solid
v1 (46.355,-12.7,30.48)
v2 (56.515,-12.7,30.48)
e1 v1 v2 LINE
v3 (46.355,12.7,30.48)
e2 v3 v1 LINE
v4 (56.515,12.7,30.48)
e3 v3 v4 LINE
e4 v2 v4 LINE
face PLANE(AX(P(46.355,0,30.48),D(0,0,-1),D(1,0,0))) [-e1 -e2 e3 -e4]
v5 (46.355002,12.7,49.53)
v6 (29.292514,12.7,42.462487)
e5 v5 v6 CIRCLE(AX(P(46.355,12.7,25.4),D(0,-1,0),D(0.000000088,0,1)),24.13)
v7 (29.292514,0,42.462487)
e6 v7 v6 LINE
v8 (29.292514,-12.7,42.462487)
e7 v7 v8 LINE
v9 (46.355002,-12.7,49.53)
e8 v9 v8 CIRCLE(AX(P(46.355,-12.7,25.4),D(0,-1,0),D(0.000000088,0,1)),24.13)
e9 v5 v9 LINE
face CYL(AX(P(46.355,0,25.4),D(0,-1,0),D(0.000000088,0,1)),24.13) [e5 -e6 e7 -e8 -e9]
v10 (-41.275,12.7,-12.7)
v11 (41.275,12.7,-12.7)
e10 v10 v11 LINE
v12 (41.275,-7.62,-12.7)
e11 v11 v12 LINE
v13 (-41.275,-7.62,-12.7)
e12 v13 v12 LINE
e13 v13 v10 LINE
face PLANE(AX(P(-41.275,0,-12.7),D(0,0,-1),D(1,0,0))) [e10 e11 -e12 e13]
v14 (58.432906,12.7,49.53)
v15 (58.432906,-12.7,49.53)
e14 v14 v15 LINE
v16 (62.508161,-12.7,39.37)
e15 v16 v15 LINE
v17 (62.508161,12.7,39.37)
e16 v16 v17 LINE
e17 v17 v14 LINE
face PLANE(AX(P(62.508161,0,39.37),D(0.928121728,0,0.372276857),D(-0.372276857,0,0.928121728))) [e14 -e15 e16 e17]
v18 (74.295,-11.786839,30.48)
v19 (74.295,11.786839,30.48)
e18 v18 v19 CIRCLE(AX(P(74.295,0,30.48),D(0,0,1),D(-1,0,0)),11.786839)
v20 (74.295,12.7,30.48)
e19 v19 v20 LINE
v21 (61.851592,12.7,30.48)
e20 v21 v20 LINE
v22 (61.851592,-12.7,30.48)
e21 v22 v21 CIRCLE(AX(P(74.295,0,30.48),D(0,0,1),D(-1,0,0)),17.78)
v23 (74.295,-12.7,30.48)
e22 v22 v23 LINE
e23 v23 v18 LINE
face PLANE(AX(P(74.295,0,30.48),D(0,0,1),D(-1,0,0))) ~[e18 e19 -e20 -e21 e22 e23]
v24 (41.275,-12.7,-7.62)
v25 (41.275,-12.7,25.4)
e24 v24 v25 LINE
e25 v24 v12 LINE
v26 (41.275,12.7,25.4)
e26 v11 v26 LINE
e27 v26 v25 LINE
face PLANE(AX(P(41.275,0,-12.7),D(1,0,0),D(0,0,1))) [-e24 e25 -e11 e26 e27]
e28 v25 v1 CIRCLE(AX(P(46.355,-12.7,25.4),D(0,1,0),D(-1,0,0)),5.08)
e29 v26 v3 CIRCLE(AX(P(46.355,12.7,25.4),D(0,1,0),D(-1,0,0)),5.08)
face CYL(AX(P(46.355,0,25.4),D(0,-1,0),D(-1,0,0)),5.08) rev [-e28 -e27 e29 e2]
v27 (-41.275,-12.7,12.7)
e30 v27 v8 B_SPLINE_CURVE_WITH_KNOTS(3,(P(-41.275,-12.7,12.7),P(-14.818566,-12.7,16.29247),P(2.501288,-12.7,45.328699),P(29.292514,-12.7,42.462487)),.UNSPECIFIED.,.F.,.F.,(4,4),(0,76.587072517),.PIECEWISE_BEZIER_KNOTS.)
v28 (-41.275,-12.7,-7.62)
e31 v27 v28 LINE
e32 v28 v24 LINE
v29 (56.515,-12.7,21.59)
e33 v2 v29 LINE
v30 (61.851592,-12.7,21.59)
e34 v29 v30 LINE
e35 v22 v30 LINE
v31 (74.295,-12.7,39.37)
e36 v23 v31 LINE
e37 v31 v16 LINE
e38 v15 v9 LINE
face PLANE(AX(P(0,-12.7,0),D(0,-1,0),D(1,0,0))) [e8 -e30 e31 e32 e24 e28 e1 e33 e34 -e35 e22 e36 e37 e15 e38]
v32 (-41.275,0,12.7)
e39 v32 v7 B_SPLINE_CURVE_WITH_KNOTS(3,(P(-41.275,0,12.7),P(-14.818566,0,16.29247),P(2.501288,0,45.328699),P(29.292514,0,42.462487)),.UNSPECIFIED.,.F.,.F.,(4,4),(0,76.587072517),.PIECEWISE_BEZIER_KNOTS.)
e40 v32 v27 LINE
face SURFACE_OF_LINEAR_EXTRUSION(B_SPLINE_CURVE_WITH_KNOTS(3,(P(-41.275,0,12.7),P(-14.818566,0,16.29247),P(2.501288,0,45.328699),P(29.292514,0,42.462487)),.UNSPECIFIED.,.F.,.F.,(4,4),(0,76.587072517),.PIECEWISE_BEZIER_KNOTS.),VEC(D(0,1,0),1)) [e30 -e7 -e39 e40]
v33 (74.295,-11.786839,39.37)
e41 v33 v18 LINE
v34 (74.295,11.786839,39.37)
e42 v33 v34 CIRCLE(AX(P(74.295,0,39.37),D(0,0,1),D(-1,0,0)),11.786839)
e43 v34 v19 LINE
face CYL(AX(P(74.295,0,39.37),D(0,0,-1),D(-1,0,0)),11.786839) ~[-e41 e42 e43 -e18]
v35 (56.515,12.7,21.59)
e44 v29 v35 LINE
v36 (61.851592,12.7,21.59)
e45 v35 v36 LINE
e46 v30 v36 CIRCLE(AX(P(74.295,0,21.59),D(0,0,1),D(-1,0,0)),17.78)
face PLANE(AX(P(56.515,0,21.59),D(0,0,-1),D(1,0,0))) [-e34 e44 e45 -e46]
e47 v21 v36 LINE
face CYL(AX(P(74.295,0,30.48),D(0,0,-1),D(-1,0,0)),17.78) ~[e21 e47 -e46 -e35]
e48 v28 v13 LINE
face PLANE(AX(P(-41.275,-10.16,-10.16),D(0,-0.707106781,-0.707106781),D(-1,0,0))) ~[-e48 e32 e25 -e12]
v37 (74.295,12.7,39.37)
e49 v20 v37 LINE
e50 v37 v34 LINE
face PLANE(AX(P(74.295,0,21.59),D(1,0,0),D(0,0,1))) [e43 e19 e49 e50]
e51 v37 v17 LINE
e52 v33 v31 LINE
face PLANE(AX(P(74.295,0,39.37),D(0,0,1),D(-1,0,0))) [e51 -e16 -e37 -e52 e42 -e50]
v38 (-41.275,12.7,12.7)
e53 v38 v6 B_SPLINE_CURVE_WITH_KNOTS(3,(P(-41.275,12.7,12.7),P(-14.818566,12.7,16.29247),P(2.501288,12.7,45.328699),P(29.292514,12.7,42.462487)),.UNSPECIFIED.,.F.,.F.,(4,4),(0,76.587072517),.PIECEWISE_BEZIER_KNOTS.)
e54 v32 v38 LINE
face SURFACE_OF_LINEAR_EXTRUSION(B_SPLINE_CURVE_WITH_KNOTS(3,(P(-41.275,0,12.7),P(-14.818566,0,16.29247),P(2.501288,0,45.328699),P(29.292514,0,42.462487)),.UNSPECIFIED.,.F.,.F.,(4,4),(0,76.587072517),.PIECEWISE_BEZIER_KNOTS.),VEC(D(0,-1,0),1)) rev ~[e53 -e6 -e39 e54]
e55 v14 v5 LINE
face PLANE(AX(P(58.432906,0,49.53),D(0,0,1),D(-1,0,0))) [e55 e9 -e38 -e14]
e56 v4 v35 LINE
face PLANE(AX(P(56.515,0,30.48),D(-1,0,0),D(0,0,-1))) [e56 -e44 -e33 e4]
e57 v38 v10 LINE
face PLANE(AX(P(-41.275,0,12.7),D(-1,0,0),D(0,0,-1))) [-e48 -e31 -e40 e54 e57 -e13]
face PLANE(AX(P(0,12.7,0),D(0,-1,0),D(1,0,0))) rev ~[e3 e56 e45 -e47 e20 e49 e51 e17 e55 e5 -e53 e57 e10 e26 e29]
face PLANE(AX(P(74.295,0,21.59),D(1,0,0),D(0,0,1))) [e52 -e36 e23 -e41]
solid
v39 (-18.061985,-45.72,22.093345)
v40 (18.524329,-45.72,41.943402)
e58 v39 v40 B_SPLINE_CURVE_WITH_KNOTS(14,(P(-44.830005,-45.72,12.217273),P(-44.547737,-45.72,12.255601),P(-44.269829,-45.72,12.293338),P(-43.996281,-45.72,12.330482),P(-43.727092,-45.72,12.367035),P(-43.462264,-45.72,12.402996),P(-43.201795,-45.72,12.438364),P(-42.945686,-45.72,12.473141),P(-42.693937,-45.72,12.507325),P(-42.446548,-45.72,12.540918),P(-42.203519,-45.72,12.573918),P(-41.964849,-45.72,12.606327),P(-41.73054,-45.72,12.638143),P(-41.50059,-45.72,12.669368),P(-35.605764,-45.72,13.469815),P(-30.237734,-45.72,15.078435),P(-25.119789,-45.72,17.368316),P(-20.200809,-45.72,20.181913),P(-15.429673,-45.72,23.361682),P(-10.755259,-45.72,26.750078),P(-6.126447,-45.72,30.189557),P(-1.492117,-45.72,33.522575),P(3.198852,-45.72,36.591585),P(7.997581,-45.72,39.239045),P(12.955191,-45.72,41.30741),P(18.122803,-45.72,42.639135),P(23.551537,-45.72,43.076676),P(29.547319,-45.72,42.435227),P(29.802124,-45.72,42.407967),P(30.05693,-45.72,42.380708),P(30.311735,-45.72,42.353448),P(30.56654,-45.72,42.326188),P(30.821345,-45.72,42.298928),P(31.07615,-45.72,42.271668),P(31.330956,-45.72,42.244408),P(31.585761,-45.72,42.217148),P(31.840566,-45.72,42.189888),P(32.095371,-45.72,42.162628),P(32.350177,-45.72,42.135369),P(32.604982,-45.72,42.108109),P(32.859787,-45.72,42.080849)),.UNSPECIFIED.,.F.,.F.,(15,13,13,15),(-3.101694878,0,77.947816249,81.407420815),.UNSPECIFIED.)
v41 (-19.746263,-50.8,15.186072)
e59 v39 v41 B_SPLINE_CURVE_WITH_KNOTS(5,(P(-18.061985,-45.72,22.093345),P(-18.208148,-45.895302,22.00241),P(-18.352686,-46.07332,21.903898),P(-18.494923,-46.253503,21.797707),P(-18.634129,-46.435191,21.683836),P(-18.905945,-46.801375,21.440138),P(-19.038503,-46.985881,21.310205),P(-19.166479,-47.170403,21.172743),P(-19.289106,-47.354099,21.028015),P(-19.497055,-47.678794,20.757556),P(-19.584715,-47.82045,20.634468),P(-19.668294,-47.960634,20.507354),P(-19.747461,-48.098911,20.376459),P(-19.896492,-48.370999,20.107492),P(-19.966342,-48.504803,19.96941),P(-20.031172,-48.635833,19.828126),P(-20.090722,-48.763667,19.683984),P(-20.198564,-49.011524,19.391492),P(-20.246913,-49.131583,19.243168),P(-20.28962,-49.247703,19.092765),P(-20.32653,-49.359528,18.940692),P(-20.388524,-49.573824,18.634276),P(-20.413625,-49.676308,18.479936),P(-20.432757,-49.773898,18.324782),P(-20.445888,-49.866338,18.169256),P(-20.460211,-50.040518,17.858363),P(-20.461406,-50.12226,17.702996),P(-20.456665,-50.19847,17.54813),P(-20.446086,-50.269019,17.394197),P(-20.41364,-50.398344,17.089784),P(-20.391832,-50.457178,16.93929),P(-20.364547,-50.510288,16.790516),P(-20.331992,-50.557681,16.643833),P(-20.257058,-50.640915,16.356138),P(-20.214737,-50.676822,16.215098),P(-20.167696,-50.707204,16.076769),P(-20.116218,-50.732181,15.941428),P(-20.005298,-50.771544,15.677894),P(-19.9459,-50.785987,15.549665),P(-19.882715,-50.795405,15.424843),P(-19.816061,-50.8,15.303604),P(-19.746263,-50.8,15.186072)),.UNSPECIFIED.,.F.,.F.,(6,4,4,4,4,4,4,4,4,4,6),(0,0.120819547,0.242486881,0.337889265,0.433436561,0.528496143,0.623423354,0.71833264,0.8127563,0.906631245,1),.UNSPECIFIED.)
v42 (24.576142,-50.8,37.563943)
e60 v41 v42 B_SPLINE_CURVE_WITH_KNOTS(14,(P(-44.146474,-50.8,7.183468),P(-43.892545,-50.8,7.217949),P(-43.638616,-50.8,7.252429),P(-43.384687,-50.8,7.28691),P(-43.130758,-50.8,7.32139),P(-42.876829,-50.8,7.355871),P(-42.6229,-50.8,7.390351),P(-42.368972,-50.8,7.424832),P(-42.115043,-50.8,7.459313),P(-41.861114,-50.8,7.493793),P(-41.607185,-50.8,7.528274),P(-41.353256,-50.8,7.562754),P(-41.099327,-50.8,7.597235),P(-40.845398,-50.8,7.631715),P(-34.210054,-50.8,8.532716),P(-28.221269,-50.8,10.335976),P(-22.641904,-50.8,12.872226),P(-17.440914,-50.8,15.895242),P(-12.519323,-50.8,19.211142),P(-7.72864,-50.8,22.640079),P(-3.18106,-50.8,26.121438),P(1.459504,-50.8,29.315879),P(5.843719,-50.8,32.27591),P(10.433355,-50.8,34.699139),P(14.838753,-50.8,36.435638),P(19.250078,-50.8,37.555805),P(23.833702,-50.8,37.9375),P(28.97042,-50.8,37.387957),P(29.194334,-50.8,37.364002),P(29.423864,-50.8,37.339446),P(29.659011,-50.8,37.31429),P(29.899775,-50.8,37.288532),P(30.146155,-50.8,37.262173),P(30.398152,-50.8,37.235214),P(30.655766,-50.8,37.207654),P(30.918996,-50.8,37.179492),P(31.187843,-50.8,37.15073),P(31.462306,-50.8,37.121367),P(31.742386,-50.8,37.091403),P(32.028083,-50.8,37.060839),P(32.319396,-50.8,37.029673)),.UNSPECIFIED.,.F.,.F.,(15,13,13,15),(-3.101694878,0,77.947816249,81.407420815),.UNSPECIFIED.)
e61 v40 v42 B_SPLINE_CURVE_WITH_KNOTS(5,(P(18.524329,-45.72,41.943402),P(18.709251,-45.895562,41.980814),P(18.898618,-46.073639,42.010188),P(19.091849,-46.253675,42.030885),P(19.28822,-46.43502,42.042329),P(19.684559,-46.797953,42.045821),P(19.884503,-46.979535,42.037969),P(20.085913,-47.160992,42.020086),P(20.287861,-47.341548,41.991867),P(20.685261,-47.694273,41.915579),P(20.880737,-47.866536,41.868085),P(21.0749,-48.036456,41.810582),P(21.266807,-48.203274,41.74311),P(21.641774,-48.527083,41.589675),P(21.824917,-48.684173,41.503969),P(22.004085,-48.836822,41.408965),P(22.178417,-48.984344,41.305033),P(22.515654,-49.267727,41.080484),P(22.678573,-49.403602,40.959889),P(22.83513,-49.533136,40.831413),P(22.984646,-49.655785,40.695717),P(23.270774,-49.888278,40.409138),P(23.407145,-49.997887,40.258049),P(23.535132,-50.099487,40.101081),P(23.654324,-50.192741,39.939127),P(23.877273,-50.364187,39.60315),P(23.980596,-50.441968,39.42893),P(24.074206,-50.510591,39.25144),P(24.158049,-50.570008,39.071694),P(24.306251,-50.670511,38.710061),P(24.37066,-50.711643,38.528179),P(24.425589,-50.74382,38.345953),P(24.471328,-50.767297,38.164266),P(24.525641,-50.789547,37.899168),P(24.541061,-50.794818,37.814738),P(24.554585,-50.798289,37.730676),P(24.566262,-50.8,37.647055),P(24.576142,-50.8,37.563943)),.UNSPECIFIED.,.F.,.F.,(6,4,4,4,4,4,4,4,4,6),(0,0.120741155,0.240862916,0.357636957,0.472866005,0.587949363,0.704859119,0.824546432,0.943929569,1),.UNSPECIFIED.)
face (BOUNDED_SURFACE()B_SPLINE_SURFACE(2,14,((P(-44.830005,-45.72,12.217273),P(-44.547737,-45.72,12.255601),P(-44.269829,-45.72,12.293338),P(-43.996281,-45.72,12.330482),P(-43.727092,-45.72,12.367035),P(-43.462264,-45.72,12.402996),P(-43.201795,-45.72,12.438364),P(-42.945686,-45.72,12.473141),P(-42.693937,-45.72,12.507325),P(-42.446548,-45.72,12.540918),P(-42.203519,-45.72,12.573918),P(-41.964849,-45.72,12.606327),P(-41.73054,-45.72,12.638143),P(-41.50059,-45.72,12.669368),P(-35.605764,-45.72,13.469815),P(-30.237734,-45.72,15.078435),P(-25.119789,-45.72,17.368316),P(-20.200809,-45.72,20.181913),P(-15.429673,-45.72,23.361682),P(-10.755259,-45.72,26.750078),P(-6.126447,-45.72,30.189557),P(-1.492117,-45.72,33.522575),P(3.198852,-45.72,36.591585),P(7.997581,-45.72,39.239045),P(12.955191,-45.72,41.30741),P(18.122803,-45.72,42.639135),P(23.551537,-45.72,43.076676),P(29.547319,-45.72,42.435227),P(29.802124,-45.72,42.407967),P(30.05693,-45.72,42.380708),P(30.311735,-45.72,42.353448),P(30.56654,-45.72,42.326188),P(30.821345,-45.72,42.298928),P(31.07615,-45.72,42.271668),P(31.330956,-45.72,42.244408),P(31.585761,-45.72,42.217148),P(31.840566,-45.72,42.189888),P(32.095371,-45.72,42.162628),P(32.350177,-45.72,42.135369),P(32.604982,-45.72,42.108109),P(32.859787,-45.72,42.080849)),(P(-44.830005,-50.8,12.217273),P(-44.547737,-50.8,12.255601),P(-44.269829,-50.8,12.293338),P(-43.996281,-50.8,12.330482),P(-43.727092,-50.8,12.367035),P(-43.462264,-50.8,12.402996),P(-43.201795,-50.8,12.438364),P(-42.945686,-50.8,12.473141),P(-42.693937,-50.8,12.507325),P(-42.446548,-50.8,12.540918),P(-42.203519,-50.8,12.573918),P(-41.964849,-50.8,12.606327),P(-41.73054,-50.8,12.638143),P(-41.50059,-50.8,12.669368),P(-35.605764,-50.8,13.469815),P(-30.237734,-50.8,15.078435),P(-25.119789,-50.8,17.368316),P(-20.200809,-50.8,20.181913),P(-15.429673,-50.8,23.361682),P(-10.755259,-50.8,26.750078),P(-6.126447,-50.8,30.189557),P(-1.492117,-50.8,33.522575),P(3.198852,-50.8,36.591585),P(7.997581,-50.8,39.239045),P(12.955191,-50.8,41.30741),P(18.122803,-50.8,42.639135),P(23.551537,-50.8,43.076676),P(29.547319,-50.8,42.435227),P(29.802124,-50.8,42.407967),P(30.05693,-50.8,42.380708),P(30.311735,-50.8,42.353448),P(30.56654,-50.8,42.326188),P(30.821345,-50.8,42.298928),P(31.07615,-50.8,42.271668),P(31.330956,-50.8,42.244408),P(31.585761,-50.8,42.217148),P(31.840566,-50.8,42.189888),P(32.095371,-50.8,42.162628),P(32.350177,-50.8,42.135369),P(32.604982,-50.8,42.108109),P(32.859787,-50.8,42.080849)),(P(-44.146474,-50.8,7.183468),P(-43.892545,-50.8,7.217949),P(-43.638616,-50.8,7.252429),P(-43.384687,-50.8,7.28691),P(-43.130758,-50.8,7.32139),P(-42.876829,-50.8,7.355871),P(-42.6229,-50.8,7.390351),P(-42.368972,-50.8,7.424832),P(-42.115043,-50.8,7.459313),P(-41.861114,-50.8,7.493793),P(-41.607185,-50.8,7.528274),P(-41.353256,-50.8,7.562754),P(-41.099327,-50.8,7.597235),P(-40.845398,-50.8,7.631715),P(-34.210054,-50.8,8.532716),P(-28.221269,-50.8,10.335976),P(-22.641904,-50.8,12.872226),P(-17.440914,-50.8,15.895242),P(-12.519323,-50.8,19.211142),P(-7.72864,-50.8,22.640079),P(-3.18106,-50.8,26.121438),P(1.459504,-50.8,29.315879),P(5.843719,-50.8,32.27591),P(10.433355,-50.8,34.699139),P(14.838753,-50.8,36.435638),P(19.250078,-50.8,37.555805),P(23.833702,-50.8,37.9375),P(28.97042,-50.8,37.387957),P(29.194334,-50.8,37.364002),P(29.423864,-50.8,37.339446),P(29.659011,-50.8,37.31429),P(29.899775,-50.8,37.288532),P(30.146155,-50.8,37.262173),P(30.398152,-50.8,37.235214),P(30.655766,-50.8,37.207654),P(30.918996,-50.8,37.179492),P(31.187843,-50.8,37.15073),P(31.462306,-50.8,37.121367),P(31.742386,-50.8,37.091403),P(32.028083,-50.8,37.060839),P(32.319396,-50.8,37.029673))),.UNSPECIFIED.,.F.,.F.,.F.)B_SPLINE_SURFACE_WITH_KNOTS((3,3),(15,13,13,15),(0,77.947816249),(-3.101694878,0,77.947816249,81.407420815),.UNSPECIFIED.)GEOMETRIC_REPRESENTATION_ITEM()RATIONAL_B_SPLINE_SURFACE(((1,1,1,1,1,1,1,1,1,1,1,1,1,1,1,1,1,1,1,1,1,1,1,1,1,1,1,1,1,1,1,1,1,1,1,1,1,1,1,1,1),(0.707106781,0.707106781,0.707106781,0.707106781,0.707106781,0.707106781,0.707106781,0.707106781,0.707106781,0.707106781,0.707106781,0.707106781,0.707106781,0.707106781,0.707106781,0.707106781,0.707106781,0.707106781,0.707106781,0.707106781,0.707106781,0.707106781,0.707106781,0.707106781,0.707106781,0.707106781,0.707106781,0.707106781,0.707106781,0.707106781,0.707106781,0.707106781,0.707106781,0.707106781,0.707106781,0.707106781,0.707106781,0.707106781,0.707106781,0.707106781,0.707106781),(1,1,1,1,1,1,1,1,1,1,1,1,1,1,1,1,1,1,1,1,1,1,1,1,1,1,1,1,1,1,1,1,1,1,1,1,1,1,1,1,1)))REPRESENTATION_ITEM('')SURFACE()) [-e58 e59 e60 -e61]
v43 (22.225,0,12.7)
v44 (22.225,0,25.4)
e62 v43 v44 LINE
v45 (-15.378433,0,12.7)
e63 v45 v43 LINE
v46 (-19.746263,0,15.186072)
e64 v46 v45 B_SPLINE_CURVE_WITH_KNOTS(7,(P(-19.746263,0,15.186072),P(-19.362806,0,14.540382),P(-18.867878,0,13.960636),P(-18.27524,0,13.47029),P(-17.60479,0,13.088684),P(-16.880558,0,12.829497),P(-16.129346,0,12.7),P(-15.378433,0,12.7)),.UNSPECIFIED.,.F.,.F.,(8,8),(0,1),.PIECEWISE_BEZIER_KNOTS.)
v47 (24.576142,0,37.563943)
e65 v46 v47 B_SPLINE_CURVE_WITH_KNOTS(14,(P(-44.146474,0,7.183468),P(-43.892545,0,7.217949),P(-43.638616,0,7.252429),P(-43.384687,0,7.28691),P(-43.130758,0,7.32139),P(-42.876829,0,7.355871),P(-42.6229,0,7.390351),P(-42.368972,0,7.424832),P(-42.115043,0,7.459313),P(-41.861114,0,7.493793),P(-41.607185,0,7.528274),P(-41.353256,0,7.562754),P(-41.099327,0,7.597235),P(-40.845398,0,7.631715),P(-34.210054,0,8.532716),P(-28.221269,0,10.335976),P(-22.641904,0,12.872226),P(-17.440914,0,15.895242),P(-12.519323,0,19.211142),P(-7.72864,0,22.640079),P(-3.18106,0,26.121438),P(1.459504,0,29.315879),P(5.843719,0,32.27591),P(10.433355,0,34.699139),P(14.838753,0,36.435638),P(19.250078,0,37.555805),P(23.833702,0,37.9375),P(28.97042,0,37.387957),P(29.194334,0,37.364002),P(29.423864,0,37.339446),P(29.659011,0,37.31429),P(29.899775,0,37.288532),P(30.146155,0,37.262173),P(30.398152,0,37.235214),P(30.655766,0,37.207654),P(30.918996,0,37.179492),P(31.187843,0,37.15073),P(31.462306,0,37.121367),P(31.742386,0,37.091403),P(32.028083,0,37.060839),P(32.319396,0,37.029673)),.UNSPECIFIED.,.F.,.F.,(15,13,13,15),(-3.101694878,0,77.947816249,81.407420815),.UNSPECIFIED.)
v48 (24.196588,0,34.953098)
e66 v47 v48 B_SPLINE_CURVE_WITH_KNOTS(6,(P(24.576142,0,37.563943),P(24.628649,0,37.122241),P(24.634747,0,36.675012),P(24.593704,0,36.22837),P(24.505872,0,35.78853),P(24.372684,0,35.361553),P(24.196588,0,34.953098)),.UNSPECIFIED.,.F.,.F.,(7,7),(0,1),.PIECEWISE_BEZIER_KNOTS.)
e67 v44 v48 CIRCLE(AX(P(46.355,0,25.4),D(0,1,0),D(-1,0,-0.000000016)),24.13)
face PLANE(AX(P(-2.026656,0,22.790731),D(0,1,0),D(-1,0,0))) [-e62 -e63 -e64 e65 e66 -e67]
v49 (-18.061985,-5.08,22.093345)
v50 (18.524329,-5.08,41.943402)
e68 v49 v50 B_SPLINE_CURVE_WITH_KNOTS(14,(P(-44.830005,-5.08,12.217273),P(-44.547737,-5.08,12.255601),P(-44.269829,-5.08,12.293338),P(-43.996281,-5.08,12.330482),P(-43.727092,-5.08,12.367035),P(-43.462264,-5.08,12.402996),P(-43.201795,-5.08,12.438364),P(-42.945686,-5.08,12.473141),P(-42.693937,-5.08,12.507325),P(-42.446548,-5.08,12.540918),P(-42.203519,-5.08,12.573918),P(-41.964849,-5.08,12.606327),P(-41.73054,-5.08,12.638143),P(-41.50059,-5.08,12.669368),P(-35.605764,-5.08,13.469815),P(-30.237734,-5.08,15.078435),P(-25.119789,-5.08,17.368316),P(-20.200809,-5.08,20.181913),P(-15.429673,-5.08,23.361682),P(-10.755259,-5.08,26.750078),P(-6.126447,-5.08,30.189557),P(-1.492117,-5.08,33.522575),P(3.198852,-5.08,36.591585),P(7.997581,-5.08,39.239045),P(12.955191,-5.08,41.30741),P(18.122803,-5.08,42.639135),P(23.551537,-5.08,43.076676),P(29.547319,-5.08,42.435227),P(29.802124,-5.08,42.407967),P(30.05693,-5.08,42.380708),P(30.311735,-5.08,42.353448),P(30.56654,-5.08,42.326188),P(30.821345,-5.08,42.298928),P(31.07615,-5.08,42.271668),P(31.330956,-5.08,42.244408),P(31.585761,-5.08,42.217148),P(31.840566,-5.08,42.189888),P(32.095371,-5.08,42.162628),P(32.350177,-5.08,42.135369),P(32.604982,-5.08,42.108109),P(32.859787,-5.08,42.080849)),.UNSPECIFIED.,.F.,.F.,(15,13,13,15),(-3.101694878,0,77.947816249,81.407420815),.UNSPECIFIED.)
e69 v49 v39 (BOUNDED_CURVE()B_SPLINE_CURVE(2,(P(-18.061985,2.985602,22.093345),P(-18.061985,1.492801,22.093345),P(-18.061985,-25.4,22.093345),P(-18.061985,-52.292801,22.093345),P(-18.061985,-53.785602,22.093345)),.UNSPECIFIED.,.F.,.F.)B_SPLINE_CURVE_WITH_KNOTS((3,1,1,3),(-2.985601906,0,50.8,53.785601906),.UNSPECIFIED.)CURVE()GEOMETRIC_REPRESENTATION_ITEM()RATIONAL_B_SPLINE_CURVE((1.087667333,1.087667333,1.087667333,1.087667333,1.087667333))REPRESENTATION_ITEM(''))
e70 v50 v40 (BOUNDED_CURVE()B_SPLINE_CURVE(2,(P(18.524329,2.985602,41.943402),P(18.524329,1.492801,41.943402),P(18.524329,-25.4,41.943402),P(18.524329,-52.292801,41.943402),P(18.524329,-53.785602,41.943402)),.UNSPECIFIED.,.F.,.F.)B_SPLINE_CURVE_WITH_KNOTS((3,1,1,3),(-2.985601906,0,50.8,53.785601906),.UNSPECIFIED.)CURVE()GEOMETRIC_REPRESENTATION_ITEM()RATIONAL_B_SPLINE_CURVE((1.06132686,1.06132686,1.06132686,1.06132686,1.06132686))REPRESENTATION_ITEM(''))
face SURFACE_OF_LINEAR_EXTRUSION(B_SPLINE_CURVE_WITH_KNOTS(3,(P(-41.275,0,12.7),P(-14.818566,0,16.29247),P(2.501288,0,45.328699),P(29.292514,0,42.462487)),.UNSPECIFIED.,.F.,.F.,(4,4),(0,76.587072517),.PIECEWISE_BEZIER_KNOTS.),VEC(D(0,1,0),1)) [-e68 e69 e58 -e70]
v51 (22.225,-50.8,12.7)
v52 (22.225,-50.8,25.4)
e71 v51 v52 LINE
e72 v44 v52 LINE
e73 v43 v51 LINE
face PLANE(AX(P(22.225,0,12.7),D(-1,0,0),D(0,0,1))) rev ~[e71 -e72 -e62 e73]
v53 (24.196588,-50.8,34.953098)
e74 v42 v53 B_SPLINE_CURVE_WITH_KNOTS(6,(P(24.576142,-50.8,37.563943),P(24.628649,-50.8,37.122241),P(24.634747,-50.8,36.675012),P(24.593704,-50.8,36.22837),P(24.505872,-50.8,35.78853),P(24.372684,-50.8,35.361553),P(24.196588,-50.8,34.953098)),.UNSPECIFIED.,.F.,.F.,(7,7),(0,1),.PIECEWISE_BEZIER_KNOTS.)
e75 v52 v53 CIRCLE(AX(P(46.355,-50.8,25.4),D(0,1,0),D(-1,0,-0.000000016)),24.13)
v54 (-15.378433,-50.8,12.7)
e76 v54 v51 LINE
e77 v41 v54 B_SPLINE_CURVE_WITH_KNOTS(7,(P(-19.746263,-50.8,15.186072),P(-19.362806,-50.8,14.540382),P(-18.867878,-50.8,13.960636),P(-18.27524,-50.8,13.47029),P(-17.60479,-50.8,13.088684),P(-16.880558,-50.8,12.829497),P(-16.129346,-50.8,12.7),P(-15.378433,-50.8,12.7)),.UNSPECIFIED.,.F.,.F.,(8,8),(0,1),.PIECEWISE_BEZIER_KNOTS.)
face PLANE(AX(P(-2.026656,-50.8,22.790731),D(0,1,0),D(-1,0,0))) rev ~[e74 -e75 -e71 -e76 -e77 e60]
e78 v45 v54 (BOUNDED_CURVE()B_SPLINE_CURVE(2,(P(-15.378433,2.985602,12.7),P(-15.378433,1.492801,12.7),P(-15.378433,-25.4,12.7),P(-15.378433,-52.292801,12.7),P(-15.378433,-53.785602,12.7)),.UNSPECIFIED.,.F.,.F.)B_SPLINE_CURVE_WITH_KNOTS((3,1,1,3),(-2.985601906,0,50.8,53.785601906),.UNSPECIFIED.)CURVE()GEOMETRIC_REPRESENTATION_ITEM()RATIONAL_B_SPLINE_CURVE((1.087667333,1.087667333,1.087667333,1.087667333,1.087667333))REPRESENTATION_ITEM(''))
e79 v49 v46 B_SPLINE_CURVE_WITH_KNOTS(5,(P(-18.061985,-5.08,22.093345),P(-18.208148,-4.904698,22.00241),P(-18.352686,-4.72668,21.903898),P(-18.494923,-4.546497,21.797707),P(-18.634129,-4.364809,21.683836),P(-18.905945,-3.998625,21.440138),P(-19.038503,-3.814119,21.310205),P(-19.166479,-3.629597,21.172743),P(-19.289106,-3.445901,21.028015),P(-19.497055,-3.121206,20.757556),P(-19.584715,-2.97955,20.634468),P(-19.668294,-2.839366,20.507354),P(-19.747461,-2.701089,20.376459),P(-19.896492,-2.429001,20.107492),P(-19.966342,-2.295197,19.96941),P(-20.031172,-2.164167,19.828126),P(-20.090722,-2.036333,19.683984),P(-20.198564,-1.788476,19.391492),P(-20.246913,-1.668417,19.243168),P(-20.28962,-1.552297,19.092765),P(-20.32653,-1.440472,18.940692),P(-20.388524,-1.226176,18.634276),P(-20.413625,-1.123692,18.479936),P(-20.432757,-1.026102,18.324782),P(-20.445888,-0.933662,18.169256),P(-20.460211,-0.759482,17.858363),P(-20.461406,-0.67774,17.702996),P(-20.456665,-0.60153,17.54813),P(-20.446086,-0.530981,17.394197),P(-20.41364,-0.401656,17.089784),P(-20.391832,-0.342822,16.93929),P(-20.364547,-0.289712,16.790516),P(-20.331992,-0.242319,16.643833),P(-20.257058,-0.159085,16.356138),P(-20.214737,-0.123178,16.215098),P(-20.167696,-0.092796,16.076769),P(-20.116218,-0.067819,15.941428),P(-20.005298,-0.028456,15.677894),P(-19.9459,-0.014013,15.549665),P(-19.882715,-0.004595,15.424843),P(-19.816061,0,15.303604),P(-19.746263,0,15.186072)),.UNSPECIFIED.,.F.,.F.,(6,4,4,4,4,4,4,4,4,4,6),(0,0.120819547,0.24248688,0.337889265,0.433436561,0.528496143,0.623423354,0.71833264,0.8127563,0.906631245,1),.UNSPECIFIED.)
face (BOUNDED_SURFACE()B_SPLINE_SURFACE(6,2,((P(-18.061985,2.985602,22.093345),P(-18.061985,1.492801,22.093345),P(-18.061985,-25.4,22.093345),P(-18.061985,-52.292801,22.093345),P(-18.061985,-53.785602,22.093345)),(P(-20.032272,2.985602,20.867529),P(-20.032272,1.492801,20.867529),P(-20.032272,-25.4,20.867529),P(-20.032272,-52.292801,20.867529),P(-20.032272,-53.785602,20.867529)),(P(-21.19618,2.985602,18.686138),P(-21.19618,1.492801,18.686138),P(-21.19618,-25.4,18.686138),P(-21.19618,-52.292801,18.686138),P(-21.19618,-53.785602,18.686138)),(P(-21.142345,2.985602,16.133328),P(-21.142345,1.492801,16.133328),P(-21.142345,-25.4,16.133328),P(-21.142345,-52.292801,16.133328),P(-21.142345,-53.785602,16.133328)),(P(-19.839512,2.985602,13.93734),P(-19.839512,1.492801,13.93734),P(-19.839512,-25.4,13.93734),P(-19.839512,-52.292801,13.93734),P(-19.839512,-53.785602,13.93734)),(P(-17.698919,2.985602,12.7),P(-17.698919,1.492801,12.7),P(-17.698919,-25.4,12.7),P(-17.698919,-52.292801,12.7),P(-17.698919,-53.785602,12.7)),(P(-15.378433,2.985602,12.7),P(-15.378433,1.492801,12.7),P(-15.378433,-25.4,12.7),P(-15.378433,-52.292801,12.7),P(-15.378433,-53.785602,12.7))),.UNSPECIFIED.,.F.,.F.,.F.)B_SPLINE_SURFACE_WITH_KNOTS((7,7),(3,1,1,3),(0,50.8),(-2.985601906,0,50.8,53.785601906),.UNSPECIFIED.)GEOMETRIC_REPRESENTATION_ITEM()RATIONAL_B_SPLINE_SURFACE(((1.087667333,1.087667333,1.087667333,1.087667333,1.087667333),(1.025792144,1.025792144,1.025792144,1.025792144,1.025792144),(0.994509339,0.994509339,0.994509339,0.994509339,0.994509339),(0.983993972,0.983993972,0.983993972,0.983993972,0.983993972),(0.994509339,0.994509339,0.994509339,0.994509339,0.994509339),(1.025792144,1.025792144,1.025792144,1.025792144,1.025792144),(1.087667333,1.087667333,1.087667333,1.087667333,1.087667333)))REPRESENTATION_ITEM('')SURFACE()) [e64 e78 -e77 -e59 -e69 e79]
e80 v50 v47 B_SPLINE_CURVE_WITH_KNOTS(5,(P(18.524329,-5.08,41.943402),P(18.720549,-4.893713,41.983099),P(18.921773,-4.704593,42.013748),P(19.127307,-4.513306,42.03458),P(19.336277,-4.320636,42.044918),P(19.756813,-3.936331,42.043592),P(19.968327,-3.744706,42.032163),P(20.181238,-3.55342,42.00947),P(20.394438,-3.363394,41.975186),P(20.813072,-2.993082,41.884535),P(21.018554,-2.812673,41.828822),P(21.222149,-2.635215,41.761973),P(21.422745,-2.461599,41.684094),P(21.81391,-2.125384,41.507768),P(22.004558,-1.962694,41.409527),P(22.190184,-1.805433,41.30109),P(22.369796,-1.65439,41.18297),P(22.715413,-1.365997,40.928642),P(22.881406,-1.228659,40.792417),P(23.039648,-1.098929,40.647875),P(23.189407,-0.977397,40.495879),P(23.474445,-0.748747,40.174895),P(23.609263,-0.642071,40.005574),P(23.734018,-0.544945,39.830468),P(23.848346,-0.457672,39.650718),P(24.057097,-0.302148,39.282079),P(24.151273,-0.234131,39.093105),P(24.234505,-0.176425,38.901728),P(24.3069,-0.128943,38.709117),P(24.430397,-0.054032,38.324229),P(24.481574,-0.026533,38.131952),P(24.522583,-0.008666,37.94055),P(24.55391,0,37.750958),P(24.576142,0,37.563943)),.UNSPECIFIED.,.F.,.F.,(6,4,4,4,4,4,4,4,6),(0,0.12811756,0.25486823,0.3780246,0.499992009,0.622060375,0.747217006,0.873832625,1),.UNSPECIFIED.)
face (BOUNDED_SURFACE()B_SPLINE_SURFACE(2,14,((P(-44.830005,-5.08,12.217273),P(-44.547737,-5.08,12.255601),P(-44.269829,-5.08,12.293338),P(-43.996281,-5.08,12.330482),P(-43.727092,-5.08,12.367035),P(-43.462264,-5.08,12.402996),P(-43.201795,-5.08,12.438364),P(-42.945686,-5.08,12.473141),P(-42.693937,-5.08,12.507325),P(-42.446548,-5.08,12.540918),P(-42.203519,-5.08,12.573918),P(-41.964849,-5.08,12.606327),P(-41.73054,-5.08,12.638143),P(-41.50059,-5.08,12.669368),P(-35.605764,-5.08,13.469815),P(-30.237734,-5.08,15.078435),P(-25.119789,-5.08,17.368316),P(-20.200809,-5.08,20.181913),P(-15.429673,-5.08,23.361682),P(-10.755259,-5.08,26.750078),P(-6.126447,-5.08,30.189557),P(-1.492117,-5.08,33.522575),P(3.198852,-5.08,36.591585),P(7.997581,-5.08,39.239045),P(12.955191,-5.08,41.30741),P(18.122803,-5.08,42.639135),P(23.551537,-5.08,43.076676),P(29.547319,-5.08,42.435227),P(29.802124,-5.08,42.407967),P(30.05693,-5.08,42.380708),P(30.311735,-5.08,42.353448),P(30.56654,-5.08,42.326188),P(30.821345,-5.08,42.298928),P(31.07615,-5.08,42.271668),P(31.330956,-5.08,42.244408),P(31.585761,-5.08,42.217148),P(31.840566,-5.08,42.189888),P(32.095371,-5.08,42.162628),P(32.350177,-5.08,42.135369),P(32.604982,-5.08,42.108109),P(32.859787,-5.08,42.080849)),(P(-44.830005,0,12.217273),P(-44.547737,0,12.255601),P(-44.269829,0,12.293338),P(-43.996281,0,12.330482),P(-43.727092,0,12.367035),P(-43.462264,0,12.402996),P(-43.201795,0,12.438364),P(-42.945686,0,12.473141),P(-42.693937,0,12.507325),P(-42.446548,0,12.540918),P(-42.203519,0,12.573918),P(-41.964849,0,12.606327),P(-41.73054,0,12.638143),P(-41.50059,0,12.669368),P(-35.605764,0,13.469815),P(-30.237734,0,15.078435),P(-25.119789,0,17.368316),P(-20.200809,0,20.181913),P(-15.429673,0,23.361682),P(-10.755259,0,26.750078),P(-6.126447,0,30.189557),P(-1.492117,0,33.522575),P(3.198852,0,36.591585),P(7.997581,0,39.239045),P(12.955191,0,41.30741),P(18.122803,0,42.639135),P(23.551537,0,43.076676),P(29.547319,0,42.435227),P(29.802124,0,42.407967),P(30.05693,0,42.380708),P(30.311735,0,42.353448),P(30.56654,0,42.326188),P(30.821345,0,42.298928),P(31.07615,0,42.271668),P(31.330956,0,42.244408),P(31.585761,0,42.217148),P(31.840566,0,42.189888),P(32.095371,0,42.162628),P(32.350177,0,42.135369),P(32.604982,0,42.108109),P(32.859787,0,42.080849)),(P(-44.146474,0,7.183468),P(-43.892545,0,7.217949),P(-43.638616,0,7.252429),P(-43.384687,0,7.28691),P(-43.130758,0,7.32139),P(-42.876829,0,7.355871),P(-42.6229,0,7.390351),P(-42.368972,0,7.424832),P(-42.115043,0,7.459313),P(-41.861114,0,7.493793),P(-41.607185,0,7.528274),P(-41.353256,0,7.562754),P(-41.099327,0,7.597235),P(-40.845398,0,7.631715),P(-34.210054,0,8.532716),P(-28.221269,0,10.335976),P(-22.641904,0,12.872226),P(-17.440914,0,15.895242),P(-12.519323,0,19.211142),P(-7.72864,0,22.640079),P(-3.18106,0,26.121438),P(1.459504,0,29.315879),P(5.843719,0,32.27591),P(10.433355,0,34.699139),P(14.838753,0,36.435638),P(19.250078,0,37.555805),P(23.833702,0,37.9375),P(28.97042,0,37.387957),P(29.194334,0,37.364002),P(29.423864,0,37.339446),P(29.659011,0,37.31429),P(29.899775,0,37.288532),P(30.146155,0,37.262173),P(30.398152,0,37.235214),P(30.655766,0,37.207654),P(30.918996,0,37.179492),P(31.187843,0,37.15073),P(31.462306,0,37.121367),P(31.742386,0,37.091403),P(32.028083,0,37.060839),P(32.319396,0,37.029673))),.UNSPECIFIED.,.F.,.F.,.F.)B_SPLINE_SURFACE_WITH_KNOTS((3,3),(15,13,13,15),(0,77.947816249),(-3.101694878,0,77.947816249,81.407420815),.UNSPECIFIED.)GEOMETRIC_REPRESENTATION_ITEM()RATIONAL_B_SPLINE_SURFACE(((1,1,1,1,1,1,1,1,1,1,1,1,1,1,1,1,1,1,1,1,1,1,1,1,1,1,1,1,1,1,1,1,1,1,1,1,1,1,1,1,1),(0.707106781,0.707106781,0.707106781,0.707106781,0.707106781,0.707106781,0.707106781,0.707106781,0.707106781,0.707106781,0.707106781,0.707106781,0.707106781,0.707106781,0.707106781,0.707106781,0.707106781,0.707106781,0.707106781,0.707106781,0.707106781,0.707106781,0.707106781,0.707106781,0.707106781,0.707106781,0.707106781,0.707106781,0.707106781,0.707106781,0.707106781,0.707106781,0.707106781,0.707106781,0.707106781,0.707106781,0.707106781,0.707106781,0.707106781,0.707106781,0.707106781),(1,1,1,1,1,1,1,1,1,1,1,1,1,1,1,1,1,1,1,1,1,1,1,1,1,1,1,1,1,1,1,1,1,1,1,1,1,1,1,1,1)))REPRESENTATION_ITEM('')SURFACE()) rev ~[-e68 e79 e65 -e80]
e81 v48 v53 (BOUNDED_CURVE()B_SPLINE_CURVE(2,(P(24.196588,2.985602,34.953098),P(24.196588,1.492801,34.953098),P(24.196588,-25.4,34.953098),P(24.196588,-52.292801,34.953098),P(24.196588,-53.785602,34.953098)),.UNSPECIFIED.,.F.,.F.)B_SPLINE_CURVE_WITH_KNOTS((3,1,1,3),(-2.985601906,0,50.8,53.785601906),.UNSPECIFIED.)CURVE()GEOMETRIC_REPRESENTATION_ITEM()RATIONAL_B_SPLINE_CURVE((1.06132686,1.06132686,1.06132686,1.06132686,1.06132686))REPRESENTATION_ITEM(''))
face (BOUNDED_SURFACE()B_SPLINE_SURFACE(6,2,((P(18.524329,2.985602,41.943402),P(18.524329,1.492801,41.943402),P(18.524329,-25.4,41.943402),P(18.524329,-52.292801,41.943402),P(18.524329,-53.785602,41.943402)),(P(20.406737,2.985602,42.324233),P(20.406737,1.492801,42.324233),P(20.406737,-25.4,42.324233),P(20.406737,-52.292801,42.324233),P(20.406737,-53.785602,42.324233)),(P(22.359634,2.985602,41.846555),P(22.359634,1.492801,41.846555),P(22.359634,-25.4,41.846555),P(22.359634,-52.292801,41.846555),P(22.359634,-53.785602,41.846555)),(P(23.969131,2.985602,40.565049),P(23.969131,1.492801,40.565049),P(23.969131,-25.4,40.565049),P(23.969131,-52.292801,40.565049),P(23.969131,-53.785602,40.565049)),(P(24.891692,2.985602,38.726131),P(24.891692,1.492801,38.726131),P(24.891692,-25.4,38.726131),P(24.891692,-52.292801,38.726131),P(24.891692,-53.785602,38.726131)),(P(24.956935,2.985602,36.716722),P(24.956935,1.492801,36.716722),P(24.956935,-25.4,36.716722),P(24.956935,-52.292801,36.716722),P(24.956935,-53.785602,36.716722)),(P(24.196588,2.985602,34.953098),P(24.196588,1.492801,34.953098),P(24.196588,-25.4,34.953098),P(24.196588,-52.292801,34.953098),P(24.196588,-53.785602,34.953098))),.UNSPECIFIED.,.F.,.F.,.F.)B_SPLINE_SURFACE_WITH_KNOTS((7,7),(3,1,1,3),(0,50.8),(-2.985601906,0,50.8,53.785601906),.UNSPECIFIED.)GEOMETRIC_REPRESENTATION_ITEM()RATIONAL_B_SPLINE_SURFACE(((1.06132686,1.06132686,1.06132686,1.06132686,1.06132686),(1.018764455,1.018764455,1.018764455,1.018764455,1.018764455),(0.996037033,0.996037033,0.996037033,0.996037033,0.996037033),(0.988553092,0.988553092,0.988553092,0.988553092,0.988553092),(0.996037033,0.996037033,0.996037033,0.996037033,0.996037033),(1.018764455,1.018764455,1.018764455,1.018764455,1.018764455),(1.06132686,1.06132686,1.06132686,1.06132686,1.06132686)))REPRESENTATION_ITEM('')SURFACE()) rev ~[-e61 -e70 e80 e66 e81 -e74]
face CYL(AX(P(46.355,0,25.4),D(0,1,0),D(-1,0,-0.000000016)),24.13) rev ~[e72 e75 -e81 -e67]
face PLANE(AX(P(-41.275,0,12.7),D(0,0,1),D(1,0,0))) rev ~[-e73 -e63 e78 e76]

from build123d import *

# Parameters (mm, degrees)
F0_W     = 5.9931609198
F0_H     = 8.89
F1_DEPTH = 12.7
F2_DEPTH = 50.8
F4_R     = 5.08
F5_SIZE  = 5.08


with BuildPart() as f1:
    # F0 (on Front) → F1 (new body, symmetric)
    with BuildSketch(Plane.XZ):
        Polygon((-41.275, -12.7), (41.275, -12.7), (41.275, 12.7), (22.225, 12.7), (-41.275, 12.7), align=None)
        with BuildLine():
            Line((22.225, 12.7), (41.275, 12.7))
            Line((41.275, 12.7), (41.275, 25.4))
            ThreePointArc((41.275, 25.4), (42.7628975516, 28.9921024484), (46.355, 30.48))
            Line((46.355, 30.48), (56.515, 30.48))
            Line((56.515, 30.48), (56.515, 39.37))
            Line((56.515, 39.37), (62.5081609198, 39.37))
            Line((62.5081609198, 39.37), (58.4329057574, 49.53))
            Line((58.4329057574, 49.53), (46.3550021176, 49.53))
            ThreePointArc((46.3550021176, 49.53), (37.120850156, 47.6932136907), (29.2925139835, 42.4624872435))
            ThreePointArc((29.2925139835, 42.4624872435), (24.0617869733, 34.6341514471), (22.225, 25.3999996176))
            Line((22.225, 25.3999996176), (22.225, 12.7))
        make_face()
        with BuildLine():
            add(Edge.make_bspline(
                [(-41.275, 12.7), (-14.81856592, 16.292469576), (2.5012880545, 45.3286993765), (29.2925139835, 42.4624872435)],
                knots=[0, 0, 0, 0, 76.587072517, 76.587072517, 76.587072517, 76.587072517], degree=3))
            Line((-41.275, 12.7), (22.225, 12.7))
            Line((22.225, 12.7), (22.225, 25.3999996176))
            ThreePointArc((22.225, 25.3999996176), (24.0617869733, 34.6341514471), (29.2925139835, 42.4624872435))
        make_face()
        Polygon((62.5081609198, 30.48), (56.515, 30.48), (56.515, 21.59), (74.295, 21.59), (74.295, 39.37), (62.5081609198, 39.37), align=None)
        with Locations((59.5115804599, 34.925)):
            Rectangle(F0_W, F0_H)
    extrude(amount=F1_DEPTH, both=True)

    # F0 (on Front) → F3 (revolve)
    with BuildSketch(Plane.XZ):
        Polygon((62.5081609198, 30.48), (56.515, 30.48), (56.515, 21.59), (74.295, 21.59), (74.295, 39.37), (62.5081609198, 39.37), align=None)
    revolve(axis=Axis((74.295, 0, 30.48), (0, 0, 1)))

    # F5
    f5_edges = [f1.edges().sort_by_distance(p)[0] for p in [
        (0, -12.7, -12.7),
    ]]
    chamfer(f5_edges, length=F5_SIZE)


with BuildPart() as f2:
    # F0 (on Front) → F2 (new body)
    with BuildSketch(Plane.XZ):
        with BuildLine():
            add(Edge.make_bspline(
                [(-41.275, 12.7), (-14.81856592, 16.292469576), (2.5012880545, 45.3286993765), (29.2925139835, 42.4624872435)],
                knots=[0, 0, 0, 0, 76.587072517, 76.587072517, 76.587072517, 76.587072517], degree=3))
            Line((-41.275, 12.7), (22.225, 12.7))
            Line((22.225, 12.7), (22.225, 25.3999996176))
            ThreePointArc((22.225, 25.3999996176), (24.0617869733, 34.6341514471), (29.2925139835, 42.4624872435))
        make_face()
    extrude(amount=F2_DEPTH)

    # F4
    f4_edges = [f2.edges().sort_by_distance(p)[0] for p in [
        (-41.275, -25.4, 12.7),
        (29.292514, -25.4, 42.462487),
        (-6.605484, 0, 29.675779),
        (-6.605484, -50.8, 29.675779),
    ]]
    fillet(f4_edges, radius=F4_R)


solid = Compound([f1.part, f2.part])
